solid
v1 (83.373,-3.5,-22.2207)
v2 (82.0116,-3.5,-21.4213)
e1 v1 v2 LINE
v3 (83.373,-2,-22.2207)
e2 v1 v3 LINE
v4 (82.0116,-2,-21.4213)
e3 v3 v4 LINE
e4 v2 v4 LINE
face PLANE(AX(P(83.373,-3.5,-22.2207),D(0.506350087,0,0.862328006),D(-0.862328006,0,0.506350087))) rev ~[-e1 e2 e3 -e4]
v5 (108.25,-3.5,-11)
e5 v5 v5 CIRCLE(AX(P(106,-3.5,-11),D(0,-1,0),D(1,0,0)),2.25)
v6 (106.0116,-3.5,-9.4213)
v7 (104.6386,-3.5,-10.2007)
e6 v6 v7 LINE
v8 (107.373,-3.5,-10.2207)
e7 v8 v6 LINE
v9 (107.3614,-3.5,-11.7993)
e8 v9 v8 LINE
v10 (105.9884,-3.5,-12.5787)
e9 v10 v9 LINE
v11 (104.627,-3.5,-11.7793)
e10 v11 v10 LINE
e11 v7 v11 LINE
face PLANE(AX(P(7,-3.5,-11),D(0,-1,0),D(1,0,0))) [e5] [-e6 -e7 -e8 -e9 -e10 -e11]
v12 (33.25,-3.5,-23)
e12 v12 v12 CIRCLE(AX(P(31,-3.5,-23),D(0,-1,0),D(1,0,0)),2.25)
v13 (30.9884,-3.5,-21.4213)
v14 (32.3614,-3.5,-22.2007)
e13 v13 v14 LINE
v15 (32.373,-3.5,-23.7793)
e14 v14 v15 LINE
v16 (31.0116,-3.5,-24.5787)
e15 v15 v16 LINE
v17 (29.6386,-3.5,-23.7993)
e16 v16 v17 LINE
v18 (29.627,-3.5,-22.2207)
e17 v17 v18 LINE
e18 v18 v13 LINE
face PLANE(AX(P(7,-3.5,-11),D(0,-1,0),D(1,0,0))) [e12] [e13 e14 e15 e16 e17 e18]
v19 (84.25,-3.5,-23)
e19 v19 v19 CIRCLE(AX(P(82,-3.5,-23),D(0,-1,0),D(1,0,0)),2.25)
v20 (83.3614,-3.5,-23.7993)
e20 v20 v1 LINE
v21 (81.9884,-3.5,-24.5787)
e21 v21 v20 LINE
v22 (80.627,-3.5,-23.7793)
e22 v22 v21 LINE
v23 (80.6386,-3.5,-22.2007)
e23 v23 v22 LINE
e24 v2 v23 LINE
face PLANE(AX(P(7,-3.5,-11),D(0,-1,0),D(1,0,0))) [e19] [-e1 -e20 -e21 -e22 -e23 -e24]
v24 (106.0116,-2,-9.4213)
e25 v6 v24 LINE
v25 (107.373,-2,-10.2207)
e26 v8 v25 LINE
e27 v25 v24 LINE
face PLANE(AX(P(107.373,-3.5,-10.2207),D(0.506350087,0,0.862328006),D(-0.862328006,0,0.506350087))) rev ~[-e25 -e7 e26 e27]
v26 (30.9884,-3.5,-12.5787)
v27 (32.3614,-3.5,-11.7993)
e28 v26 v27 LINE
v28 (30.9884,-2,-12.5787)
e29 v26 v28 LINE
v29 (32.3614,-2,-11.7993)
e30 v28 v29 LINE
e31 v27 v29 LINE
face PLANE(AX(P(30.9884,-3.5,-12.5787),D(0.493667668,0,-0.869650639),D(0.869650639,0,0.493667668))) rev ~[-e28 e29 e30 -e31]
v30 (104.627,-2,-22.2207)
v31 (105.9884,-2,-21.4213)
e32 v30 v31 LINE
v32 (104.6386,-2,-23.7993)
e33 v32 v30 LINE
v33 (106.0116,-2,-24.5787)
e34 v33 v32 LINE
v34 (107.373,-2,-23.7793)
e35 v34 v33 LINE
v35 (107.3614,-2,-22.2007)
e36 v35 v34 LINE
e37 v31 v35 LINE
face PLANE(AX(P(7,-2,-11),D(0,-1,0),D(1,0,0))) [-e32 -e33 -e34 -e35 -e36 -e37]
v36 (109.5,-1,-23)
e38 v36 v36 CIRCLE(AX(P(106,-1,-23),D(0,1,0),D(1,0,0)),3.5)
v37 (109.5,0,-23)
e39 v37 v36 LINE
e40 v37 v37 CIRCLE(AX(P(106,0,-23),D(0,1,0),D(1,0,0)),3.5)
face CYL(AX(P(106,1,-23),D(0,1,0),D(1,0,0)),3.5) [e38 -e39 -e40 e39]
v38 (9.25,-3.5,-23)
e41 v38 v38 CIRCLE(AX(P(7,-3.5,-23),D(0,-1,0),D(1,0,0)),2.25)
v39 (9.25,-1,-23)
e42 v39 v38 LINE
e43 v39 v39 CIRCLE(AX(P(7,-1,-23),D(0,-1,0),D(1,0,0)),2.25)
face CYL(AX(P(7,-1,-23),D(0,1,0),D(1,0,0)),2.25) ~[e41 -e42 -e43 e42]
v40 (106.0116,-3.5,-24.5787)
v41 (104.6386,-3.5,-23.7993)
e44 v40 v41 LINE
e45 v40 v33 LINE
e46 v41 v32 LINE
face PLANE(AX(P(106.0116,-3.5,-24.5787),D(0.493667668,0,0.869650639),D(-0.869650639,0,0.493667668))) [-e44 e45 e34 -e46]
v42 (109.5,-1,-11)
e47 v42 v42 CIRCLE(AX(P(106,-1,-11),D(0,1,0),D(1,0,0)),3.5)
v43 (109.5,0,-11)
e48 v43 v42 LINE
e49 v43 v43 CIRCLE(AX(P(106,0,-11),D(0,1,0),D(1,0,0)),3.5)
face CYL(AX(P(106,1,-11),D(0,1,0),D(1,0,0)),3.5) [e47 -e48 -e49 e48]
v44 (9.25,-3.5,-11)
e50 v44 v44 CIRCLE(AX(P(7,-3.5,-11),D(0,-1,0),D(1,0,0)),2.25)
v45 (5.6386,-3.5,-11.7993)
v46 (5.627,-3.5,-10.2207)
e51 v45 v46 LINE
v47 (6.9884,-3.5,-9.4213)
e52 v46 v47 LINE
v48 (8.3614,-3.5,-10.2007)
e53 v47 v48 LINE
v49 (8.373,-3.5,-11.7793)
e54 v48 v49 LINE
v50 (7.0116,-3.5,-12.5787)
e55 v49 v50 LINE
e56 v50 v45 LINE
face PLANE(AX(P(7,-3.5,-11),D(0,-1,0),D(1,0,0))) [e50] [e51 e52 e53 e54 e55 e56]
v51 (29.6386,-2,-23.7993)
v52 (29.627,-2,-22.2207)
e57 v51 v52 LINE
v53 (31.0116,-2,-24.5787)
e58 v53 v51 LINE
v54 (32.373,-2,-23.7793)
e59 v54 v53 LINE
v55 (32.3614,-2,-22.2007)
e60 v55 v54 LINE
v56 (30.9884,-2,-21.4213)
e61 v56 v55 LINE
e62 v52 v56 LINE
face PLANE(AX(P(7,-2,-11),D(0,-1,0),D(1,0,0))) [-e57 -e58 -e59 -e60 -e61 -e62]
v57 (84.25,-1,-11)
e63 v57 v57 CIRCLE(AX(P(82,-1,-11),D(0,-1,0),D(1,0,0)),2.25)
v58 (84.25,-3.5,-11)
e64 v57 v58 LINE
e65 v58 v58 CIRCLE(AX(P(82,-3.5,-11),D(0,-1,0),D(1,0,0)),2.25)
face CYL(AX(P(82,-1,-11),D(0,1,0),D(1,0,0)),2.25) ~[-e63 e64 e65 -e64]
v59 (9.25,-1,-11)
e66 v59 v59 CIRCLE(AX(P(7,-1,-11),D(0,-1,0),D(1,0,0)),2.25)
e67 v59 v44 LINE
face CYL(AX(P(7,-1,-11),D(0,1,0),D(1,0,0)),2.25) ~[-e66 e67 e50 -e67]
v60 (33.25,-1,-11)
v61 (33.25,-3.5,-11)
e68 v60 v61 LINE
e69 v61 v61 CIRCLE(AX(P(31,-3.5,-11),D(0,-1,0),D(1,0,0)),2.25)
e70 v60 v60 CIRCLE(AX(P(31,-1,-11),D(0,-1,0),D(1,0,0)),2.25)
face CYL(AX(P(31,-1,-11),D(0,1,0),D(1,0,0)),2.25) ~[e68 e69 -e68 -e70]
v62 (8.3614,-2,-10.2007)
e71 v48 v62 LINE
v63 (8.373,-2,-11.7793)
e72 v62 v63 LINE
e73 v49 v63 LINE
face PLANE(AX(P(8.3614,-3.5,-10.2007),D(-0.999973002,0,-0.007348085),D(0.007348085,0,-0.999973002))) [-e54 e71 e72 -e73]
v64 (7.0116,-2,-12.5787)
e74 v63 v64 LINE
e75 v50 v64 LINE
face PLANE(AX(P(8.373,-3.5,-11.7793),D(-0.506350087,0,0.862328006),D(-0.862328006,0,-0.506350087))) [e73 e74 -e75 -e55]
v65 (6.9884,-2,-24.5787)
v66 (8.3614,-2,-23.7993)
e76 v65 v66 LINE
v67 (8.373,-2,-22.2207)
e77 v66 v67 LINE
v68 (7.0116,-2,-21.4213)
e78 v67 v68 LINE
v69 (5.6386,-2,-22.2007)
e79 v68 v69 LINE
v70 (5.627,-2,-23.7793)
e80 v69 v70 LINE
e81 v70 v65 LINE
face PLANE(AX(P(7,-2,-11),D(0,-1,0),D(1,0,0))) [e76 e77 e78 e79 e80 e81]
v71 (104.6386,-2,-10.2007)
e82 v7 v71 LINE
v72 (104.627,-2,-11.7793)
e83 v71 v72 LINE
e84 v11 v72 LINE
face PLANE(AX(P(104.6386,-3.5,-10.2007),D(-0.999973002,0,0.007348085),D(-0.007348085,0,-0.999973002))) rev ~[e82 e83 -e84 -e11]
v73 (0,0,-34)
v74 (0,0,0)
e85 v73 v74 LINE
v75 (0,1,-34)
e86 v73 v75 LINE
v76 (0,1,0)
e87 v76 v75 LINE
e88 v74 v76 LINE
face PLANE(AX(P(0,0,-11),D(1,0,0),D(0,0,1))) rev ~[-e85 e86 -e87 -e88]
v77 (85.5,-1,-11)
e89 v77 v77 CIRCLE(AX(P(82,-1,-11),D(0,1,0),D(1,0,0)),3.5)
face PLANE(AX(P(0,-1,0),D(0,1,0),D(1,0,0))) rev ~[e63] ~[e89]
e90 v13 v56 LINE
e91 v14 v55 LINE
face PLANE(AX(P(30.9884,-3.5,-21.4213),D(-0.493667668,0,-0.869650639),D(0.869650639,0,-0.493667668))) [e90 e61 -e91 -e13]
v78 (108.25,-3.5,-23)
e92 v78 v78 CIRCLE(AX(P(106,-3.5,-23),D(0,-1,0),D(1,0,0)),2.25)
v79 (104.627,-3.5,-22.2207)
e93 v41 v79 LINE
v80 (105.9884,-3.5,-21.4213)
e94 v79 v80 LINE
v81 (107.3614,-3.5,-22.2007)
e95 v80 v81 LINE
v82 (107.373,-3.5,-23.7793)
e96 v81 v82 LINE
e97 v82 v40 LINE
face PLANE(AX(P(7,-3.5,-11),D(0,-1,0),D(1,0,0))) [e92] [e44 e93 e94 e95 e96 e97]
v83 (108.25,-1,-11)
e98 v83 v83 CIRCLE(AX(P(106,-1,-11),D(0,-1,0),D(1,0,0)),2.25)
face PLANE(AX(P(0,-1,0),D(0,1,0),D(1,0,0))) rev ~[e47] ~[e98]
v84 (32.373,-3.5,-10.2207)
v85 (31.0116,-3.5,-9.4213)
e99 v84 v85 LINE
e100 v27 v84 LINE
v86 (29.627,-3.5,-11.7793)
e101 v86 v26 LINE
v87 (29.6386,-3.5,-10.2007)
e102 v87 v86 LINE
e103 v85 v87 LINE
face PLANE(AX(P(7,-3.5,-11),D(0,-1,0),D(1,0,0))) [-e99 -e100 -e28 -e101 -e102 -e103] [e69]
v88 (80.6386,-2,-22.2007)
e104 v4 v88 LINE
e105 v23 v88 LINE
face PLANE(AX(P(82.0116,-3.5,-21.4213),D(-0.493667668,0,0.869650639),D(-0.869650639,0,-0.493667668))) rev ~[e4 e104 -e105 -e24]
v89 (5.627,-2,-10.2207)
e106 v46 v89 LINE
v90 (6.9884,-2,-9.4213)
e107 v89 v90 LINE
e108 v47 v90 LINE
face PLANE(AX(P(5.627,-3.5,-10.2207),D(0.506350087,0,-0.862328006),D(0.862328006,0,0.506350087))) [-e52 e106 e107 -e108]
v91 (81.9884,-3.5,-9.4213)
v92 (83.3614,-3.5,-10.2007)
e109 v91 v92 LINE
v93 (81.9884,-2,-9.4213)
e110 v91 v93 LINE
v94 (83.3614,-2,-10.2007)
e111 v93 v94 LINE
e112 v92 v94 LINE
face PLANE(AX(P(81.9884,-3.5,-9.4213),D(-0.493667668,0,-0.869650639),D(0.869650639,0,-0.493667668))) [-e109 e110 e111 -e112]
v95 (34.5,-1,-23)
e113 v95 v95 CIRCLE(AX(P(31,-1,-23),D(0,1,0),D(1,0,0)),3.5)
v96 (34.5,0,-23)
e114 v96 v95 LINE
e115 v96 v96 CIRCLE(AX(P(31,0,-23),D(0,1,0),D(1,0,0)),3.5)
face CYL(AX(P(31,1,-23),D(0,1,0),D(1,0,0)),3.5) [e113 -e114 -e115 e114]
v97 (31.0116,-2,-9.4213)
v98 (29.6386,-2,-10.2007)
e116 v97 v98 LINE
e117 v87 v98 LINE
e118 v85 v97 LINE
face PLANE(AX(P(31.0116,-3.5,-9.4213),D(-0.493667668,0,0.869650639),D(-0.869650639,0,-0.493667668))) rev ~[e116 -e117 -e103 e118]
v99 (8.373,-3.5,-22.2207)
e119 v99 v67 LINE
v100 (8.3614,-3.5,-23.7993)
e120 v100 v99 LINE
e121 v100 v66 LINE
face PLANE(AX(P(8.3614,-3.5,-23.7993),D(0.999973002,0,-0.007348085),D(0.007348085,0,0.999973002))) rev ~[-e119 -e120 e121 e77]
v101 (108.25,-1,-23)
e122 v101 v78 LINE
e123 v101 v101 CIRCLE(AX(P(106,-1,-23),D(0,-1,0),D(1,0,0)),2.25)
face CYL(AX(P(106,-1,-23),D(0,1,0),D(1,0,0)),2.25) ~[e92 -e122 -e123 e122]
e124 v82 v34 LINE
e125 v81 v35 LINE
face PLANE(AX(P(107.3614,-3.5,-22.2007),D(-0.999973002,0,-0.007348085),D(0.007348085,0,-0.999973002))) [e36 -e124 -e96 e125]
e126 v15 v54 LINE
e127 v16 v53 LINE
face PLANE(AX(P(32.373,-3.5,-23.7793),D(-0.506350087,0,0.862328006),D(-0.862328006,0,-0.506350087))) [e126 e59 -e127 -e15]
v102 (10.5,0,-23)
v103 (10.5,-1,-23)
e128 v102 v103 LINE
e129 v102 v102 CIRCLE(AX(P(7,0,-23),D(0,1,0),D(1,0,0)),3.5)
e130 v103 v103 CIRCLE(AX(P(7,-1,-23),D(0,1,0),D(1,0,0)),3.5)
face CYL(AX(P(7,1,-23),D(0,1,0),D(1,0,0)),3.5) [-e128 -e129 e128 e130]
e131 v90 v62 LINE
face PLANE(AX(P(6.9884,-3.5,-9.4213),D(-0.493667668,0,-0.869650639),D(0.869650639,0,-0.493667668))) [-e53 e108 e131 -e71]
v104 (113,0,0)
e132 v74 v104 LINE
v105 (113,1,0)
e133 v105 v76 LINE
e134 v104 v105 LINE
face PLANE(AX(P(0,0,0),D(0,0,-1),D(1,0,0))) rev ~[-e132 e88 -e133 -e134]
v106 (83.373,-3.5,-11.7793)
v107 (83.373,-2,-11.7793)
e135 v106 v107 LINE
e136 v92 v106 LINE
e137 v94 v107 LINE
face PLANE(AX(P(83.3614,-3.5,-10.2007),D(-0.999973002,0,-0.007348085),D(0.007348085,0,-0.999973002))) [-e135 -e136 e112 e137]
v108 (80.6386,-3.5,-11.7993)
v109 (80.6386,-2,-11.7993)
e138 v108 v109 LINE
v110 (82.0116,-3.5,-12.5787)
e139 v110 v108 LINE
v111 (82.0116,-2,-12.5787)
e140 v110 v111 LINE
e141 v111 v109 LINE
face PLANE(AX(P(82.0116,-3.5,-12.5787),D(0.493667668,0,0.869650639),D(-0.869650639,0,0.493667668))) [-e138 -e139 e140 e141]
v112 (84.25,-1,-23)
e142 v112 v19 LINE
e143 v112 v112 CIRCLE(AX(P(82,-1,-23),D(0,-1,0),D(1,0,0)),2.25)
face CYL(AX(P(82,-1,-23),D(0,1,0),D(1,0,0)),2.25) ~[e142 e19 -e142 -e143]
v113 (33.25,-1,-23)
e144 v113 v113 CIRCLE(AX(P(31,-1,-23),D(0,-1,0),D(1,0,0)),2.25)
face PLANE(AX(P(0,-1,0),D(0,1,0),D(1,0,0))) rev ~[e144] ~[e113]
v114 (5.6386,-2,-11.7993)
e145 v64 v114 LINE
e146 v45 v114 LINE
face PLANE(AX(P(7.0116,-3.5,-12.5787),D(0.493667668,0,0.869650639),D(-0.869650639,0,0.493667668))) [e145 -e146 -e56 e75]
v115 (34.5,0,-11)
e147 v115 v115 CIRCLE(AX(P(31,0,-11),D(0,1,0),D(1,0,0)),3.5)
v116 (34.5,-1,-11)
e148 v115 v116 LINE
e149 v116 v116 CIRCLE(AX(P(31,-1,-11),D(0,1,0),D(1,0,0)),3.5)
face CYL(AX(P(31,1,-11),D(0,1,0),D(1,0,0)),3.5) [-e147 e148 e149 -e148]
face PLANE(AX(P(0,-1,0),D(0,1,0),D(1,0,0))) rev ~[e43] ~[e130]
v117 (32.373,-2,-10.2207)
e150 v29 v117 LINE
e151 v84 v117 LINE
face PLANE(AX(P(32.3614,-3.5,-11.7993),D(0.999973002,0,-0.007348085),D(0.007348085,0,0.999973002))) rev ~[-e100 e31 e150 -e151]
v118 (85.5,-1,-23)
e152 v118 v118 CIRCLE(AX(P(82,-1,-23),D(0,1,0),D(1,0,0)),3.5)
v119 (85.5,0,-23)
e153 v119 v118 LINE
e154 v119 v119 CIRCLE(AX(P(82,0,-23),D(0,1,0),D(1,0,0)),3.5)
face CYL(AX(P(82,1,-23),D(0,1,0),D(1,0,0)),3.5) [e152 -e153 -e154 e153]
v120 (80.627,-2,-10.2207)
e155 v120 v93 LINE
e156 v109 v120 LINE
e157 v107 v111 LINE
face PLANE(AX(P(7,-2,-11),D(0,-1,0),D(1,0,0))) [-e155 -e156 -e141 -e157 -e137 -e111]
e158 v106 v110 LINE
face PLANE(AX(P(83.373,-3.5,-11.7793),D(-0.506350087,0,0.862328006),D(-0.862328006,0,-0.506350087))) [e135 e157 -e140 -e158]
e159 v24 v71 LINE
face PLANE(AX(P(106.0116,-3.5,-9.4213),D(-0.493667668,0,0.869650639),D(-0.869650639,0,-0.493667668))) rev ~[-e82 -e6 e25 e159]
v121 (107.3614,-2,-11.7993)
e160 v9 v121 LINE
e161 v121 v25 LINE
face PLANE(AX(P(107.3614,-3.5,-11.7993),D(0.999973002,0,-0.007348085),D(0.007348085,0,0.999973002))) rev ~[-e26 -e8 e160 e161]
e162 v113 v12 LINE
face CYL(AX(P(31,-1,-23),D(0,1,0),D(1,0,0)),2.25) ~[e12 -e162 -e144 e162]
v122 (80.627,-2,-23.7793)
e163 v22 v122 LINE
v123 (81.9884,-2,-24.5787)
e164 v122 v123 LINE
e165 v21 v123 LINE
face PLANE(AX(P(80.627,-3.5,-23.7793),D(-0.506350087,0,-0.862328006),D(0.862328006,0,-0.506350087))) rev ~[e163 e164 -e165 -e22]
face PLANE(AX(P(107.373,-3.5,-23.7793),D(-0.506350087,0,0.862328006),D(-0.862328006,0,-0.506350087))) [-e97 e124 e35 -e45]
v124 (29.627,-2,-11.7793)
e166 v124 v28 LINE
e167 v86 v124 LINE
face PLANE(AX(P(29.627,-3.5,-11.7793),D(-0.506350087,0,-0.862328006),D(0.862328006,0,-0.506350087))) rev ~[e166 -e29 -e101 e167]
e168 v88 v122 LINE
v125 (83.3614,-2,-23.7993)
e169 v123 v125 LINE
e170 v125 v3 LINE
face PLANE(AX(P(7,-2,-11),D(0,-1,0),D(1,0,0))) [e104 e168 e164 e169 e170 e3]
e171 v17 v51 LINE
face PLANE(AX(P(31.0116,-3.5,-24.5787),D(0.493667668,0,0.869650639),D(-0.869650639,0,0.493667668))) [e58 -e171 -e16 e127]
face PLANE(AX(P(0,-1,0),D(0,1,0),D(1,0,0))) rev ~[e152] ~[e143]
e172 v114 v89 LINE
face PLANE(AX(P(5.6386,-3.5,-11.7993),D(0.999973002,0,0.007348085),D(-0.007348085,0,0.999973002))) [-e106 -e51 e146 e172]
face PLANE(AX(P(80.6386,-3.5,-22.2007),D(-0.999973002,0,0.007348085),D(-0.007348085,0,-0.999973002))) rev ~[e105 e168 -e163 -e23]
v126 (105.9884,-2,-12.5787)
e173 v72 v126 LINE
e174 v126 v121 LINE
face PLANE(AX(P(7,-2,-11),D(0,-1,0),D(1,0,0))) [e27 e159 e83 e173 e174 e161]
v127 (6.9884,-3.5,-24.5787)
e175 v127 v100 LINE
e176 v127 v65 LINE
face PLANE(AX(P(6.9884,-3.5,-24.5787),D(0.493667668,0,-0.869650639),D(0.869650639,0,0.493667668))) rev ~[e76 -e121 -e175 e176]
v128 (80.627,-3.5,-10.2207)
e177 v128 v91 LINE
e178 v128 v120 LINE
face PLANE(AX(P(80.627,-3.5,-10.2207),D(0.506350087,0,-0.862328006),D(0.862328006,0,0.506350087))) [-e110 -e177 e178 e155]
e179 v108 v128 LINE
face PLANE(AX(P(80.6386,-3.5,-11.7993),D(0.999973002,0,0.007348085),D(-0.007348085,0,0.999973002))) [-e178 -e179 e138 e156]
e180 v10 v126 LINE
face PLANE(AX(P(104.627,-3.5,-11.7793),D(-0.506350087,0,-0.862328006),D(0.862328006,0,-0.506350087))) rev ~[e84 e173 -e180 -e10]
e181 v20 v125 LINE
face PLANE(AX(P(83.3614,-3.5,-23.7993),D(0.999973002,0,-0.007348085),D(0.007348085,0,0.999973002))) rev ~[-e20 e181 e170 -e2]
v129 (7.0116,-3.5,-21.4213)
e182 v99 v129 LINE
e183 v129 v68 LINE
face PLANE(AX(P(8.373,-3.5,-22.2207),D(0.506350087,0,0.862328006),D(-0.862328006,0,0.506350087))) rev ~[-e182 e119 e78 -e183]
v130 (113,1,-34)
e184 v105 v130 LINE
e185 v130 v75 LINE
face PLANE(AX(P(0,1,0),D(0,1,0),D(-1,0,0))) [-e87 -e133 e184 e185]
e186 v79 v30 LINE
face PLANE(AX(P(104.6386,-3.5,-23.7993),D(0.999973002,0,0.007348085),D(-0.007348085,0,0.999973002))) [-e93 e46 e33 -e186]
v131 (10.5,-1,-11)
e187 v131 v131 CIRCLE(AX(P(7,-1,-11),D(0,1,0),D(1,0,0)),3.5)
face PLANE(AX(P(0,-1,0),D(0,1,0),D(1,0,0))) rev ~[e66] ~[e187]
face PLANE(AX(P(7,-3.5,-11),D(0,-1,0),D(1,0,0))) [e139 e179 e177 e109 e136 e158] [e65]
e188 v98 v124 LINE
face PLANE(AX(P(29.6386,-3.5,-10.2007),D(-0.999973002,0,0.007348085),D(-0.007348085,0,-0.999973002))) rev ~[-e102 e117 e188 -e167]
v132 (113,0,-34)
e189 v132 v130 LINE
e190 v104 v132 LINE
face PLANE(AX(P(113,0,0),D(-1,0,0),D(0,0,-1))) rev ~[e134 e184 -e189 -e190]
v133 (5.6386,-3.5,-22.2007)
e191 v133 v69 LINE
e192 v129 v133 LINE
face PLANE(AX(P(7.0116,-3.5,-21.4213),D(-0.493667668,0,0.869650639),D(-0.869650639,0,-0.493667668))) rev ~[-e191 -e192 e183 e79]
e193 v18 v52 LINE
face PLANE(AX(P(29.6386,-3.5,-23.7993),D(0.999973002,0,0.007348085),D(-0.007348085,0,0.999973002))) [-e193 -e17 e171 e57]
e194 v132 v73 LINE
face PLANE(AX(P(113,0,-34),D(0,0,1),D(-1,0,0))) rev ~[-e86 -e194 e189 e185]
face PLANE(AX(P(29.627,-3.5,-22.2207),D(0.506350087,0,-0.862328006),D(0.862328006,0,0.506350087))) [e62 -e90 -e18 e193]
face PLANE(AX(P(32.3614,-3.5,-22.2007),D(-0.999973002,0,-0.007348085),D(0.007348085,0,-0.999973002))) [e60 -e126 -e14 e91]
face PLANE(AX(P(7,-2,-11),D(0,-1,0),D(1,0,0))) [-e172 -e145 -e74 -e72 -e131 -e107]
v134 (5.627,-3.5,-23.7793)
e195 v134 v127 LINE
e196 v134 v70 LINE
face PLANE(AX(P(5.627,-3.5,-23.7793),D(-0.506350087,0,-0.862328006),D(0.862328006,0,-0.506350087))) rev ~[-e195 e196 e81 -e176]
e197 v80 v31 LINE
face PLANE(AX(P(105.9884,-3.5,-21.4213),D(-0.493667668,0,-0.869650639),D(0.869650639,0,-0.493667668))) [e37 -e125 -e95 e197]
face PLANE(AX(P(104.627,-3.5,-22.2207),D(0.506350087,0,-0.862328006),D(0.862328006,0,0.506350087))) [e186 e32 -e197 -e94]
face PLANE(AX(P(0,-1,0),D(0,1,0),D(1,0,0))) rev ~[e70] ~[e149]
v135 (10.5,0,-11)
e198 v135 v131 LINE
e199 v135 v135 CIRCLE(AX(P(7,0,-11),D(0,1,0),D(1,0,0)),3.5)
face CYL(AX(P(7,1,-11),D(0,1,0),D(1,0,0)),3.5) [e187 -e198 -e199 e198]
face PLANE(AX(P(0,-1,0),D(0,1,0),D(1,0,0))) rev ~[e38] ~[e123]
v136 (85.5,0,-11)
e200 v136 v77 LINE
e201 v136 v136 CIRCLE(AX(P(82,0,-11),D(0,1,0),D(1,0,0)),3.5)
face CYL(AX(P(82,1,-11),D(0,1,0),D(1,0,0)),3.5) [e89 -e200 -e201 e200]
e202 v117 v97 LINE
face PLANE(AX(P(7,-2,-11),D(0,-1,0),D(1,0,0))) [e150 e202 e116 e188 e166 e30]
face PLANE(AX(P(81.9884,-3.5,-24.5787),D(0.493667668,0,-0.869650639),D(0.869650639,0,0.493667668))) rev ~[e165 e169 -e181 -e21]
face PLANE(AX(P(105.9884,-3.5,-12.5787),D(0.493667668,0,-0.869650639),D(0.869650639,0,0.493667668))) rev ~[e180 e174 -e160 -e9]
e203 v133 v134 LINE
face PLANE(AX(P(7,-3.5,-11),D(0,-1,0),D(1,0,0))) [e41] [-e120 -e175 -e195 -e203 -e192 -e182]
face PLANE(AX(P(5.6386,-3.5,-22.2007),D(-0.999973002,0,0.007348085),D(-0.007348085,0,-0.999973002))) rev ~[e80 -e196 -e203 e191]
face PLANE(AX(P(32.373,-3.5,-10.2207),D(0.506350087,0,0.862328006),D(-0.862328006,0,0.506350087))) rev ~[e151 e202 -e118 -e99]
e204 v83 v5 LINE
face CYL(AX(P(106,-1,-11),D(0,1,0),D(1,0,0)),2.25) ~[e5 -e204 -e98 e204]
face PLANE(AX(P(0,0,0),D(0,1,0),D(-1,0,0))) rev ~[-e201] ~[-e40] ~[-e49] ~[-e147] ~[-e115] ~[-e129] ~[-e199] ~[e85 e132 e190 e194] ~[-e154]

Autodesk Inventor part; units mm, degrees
ref_plane "YZ Plane" through (0, 0, 0) normal (1, 0, 0) x (0, 1, 0)
ref_plane "XZ Plane" through (0, 0, 0) normal (0, 1, 0) x (-1, 0, 0)
ref_plane "XY Plane" through (0, 0, 0) normal (0, 0, 1) x (1, 0, 0)
sketch "Esboço1" plane through (0, 0, 0) normal (0, 1, 0) x (-1, 0, 0)
  line L0 (0, 0) -> (-113, 0)
  line L1 (-113, 0) -> (-113, -34)
  line L2 (-113, -34) -> (0, -34)
  line L3 (0, -34) -> (0, 0)
  line L4 (0, 0) -> (-7, 0)
  line L5 (0, -11) -> (0, 0)
  circle A0 centre (-7, -11) radius 2.25
  circle A1 centre (-7, -23) radius 2.25
  circle A2 centre (-31, -11) radius 2.25
  circle A3 centre (-31, -23) radius 2.25
  line L6 (-56.5, 0) -> (-56.5, -13.25)
  circle A4 centre (-106, -11) radius 2.25
  circle A5 centre (-106, -23) radius 2.25
  circle A6 centre (-82, -23) radius 2.25
  circle A7 centre (-82, -11) radius 2.25
  circle A8 centre (-7, -11) radius 3.5
  circle A9 centre (-7, -23) radius 3.5
  circle A10 centre (-31, -23) radius 3.5
  circle A11 centre (-31, -11) radius 3.5
  circle A12 centre (-106, -11) radius 3.5
  circle A13 centre (-106, -23) radius 3.5
  circle A14 centre (-82, -23) radius 3.5
  circle A15 centre (-82, -11) radius 3.5
  dimension "d0" = 113
  dimension "d1" = 34
  dimension "d6" = 7
  dimension "d7" = 7
  dimension "d8" = 7
  dimension "d9" = 7
extrude "Extrusão1" add sketch "Esboço1" along normal blind 1 contours L3 L2 L1 L0
sketch "Esboço2" plane through (0, 1, 0) normal (0, 1, 0) x (1, 0, 0)
  circle A0 centre (7, 11) radius 3.5 projected
  circle A1 centre (7, 11) radius 3.5
  circle A2 centre (7, 23) radius 3.5 projected
  circle A3 centre (7, 23) radius 3.5
  circle A4 centre (31, 23) radius 3.5 projected
  circle A5 centre (31, 23) radius 3.5
  circle A6 centre (31, 11) radius 3.5 projected
  circle A7 centre (31, 11) radius 3.5
  circle A8 centre (82, 23) radius 3.5 projected
  circle A9 centre (82, 23) radius 3.5
  circle A10 centre (106, 23) radius 3.5 projected
  circle A11 centre (106, 23) radius 3.5
  circle A12 centre (106, 11) radius 3.5 projected
  circle A13 centre (106, 11) radius 3.5
  circle A14 centre (82, 11) radius 3.5 projected
  circle A15 centre (82, 11) radius 3.5
  point P0 (0, 0)
extrude "Extrusão2" add sketch "Esboço2" against normal blind 2 contours A0 | A2 | A4 | A6 | A8 | A14
sketch "Esboço3" plane through (0, 1, 0) normal (0, 1, 0) x (1, 0, 0)
  circle A0 centre (106, 11) radius 3.5 projected
  circle A1 centre (106, 11) radius 3.5
  circle A2 centre (106, 23) radius 3.5 projected
  circle A3 centre (106, 23) radius 3.5
  point P0 (0, 0)
extrude "Extrusão3" add sketch "Esboço3" against normal blind 2
sketch "Esboço4" plane through (7, -1, -11) normal (0, -1, 0) x (1, 0, 0)
  circle A0 centre (0, 0) radius 3.5 projected
  circle A1 centre (0, 0) radius 2.25
  line L0 (106, -23) -> (-7, -23) projected
  line L1 (49.5, -23) -> (49.5, -11.349)
  line L2 (0, -23) -> (12, -23)
  line L3 (12, -23) -> (12, -13.2533)
  line L4 (-7, -23) -> (-7, 11) projected
  line L5 (-7, -6) -> (6, -6)
  circle A2 centre (0, -12) radius 2.25
  circle A3 centre (24, 0) radius 2.25
  circle A4 centre (24, -12) radius 2.25
  circle A5 centre (99, 0) radius 2.25
  circle A6 centre (99, -12) radius 2.25
  circle A7 centre (75, 0) radius 2.25
  circle A8 centre (75, -12) radius 2.25
  dimension "d16" = 4.5
  dimension "d17" = 12
extrude "Extrusão4" add sketch "Esboço4" along normal blind 2.5 contours A1 | A2 | A3 | A4 | A5 | A6 | A7 | A8
sketch "Esboço5" plane through (7, -3.5, -11) normal (0, -1, 0) x (1, 0, 0)
  line L0 (0.0116, -1.5787) -> (-1.3614, -0.7993)
  line L1 (-1.3614, -0.7993) -> (-1.373, 0.7793)
  line L2 (-1.373, 0.7793) -> (-0.0116, 1.5787)
  line L3 (-0.0116, 1.5787) -> (1.3614, 0.7993)
  line L4 (1.3614, 0.7993) -> (1.373, -0.7793)
  line L5 (1.373, -0.7793) -> (0.0116, -1.5787)
  line L6 (-7, -23) -> (-7, 11) projected
  circle A0 centre (0, -12) radius 3.5 projected
  line L7 (106, -23) -> (-7, -23) projected
  line L8 (0.0116, -10.4213) -> (-1.3614, -11.2007)
  line L9 (-1.3614, -11.2007) -> (-1.373, -12.7793)
  line L10 (-1.373, -12.7793) -> (-0.0116, -13.5787)
  line L11 (-0.0116, -13.5787) -> (1.3614, -12.7993)
  line L12 (1.3614, -12.7993) -> (1.373, -11.2207)
  line L13 (1.373, -11.2207) -> (0.0116, -10.4213)
  line L14 (23.9884, -1.5787) -> (25.3614, -0.7993)
  line L15 (25.3614, -0.7993) -> (25.373, 0.7793)
  line L16 (25.373, 0.7793) -> (24.0116, 1.5787)
  line L17 (24.0116, 1.5787) -> (22.6386, 0.7993)
  line L18 (22.6386, 0.7993) -> (22.627, -0.7793)
  line L19 (22.627, -0.7793) -> (23.9884, -1.5787)
  line L20 (23.9884, -10.4213) -> (25.3614, -11.2007)
  line L21 (25.3614, -11.2007) -> (25.373, -12.7793)
  line L22 (25.373, -12.7793) -> (24.0116, -13.5787)
  line L23 (22.6386, -12.7993) -> (22.627, -11.2207)
  line L24 (22.627, -11.2207) -> (23.9884, -10.4213)
  line L25 (24.0116, -13.5787) -> (22.6386, -12.7993)
  line L26 (98.9884, -1.5787) -> (100.3614, -0.7993)
  line L27 (100.3614, -0.7993) -> (100.373, 0.7793)
  line L28 (100.373, 0.7793) -> (99.0116, 1.5787)
  line L29 (99.0116, 1.5787) -> (97.6386, 0.7993)
  line L30 (97.6386, 0.7993) -> (97.627, -0.7793)
  line L31 (97.627, -0.7793) -> (98.9884, -1.5787)
  line L32 (98.9884, -10.4213) -> (100.3614, -11.2007)
  line L33 (100.3614, -11.2007) -> (100.373, -12.7793)
  line L34 (100.373, -12.7793) -> (99.0116, -13.5787)
  line L35 (97.6386, -12.7993) -> (97.627, -11.2207)
  line L36 (97.627, -11.2207) -> (98.9884, -10.4213)
  line L37 (99.0116, -13.5787) -> (97.6386, -12.7993)
  line L38 (75.0116, -10.4213) -> (73.6386, -11.2007)
  line L39 (76.373, -11.2207) -> (75.0116, -10.4213)
  line L40 (73.6386, -11.2007) -> (73.627, -12.7793)
  line L41 (76.3614, -12.7993) -> (76.373, -11.2207)
  line L42 (74.9884, -13.5787) -> (76.3614, -12.7993)
  line L43 (73.627, -12.7793) -> (74.9884, -13.5787)
  line L44 (76.373, -0.7793) -> (75.0116, -1.5787)
  line L45 (73.6386, -0.7993) -> (73.627, 0.7793)
  line L46 (76.3614, 0.7993) -> (76.373, -0.7793)
  line L47 (73.627, 0.7793) -> (74.9884, 1.5787)
  line L48 (74.9884, 1.5787) -> (76.3614, 0.7993)
  line L49 (75.0116, -1.5787) -> (73.6386, -0.7993)
  point P0 (0, 0)
  point P1 (24, 0)
  point P2 (24, -12)
  point P3 (99, 0)
  point P4 (75, 0)
  point P5 (75, -12)
extrude "Extrusão5" cut sketch "Esboço5" against normal blind 1.5 contours L0 L1 L2 L3 L4 L5 | L13 L12 L11 L10 L9 L8 | L19 L18 L17 L16 L15 L14 | L20 L21 L22 L25 L23 L24 | L31 L30 L29 L28 L27 L26 | L32 L33 L34 L37 L35 L36 | L39 L41 L42 L43 L40 L38 | L44 L49 L45 L47 L48 L46
sketch "Esboço6" plane through (0, 0, 0) normal (0, -1, 0) x (1, 0, 0)
  point P0 (0, 0)
properties part number "chapinha_garra"
